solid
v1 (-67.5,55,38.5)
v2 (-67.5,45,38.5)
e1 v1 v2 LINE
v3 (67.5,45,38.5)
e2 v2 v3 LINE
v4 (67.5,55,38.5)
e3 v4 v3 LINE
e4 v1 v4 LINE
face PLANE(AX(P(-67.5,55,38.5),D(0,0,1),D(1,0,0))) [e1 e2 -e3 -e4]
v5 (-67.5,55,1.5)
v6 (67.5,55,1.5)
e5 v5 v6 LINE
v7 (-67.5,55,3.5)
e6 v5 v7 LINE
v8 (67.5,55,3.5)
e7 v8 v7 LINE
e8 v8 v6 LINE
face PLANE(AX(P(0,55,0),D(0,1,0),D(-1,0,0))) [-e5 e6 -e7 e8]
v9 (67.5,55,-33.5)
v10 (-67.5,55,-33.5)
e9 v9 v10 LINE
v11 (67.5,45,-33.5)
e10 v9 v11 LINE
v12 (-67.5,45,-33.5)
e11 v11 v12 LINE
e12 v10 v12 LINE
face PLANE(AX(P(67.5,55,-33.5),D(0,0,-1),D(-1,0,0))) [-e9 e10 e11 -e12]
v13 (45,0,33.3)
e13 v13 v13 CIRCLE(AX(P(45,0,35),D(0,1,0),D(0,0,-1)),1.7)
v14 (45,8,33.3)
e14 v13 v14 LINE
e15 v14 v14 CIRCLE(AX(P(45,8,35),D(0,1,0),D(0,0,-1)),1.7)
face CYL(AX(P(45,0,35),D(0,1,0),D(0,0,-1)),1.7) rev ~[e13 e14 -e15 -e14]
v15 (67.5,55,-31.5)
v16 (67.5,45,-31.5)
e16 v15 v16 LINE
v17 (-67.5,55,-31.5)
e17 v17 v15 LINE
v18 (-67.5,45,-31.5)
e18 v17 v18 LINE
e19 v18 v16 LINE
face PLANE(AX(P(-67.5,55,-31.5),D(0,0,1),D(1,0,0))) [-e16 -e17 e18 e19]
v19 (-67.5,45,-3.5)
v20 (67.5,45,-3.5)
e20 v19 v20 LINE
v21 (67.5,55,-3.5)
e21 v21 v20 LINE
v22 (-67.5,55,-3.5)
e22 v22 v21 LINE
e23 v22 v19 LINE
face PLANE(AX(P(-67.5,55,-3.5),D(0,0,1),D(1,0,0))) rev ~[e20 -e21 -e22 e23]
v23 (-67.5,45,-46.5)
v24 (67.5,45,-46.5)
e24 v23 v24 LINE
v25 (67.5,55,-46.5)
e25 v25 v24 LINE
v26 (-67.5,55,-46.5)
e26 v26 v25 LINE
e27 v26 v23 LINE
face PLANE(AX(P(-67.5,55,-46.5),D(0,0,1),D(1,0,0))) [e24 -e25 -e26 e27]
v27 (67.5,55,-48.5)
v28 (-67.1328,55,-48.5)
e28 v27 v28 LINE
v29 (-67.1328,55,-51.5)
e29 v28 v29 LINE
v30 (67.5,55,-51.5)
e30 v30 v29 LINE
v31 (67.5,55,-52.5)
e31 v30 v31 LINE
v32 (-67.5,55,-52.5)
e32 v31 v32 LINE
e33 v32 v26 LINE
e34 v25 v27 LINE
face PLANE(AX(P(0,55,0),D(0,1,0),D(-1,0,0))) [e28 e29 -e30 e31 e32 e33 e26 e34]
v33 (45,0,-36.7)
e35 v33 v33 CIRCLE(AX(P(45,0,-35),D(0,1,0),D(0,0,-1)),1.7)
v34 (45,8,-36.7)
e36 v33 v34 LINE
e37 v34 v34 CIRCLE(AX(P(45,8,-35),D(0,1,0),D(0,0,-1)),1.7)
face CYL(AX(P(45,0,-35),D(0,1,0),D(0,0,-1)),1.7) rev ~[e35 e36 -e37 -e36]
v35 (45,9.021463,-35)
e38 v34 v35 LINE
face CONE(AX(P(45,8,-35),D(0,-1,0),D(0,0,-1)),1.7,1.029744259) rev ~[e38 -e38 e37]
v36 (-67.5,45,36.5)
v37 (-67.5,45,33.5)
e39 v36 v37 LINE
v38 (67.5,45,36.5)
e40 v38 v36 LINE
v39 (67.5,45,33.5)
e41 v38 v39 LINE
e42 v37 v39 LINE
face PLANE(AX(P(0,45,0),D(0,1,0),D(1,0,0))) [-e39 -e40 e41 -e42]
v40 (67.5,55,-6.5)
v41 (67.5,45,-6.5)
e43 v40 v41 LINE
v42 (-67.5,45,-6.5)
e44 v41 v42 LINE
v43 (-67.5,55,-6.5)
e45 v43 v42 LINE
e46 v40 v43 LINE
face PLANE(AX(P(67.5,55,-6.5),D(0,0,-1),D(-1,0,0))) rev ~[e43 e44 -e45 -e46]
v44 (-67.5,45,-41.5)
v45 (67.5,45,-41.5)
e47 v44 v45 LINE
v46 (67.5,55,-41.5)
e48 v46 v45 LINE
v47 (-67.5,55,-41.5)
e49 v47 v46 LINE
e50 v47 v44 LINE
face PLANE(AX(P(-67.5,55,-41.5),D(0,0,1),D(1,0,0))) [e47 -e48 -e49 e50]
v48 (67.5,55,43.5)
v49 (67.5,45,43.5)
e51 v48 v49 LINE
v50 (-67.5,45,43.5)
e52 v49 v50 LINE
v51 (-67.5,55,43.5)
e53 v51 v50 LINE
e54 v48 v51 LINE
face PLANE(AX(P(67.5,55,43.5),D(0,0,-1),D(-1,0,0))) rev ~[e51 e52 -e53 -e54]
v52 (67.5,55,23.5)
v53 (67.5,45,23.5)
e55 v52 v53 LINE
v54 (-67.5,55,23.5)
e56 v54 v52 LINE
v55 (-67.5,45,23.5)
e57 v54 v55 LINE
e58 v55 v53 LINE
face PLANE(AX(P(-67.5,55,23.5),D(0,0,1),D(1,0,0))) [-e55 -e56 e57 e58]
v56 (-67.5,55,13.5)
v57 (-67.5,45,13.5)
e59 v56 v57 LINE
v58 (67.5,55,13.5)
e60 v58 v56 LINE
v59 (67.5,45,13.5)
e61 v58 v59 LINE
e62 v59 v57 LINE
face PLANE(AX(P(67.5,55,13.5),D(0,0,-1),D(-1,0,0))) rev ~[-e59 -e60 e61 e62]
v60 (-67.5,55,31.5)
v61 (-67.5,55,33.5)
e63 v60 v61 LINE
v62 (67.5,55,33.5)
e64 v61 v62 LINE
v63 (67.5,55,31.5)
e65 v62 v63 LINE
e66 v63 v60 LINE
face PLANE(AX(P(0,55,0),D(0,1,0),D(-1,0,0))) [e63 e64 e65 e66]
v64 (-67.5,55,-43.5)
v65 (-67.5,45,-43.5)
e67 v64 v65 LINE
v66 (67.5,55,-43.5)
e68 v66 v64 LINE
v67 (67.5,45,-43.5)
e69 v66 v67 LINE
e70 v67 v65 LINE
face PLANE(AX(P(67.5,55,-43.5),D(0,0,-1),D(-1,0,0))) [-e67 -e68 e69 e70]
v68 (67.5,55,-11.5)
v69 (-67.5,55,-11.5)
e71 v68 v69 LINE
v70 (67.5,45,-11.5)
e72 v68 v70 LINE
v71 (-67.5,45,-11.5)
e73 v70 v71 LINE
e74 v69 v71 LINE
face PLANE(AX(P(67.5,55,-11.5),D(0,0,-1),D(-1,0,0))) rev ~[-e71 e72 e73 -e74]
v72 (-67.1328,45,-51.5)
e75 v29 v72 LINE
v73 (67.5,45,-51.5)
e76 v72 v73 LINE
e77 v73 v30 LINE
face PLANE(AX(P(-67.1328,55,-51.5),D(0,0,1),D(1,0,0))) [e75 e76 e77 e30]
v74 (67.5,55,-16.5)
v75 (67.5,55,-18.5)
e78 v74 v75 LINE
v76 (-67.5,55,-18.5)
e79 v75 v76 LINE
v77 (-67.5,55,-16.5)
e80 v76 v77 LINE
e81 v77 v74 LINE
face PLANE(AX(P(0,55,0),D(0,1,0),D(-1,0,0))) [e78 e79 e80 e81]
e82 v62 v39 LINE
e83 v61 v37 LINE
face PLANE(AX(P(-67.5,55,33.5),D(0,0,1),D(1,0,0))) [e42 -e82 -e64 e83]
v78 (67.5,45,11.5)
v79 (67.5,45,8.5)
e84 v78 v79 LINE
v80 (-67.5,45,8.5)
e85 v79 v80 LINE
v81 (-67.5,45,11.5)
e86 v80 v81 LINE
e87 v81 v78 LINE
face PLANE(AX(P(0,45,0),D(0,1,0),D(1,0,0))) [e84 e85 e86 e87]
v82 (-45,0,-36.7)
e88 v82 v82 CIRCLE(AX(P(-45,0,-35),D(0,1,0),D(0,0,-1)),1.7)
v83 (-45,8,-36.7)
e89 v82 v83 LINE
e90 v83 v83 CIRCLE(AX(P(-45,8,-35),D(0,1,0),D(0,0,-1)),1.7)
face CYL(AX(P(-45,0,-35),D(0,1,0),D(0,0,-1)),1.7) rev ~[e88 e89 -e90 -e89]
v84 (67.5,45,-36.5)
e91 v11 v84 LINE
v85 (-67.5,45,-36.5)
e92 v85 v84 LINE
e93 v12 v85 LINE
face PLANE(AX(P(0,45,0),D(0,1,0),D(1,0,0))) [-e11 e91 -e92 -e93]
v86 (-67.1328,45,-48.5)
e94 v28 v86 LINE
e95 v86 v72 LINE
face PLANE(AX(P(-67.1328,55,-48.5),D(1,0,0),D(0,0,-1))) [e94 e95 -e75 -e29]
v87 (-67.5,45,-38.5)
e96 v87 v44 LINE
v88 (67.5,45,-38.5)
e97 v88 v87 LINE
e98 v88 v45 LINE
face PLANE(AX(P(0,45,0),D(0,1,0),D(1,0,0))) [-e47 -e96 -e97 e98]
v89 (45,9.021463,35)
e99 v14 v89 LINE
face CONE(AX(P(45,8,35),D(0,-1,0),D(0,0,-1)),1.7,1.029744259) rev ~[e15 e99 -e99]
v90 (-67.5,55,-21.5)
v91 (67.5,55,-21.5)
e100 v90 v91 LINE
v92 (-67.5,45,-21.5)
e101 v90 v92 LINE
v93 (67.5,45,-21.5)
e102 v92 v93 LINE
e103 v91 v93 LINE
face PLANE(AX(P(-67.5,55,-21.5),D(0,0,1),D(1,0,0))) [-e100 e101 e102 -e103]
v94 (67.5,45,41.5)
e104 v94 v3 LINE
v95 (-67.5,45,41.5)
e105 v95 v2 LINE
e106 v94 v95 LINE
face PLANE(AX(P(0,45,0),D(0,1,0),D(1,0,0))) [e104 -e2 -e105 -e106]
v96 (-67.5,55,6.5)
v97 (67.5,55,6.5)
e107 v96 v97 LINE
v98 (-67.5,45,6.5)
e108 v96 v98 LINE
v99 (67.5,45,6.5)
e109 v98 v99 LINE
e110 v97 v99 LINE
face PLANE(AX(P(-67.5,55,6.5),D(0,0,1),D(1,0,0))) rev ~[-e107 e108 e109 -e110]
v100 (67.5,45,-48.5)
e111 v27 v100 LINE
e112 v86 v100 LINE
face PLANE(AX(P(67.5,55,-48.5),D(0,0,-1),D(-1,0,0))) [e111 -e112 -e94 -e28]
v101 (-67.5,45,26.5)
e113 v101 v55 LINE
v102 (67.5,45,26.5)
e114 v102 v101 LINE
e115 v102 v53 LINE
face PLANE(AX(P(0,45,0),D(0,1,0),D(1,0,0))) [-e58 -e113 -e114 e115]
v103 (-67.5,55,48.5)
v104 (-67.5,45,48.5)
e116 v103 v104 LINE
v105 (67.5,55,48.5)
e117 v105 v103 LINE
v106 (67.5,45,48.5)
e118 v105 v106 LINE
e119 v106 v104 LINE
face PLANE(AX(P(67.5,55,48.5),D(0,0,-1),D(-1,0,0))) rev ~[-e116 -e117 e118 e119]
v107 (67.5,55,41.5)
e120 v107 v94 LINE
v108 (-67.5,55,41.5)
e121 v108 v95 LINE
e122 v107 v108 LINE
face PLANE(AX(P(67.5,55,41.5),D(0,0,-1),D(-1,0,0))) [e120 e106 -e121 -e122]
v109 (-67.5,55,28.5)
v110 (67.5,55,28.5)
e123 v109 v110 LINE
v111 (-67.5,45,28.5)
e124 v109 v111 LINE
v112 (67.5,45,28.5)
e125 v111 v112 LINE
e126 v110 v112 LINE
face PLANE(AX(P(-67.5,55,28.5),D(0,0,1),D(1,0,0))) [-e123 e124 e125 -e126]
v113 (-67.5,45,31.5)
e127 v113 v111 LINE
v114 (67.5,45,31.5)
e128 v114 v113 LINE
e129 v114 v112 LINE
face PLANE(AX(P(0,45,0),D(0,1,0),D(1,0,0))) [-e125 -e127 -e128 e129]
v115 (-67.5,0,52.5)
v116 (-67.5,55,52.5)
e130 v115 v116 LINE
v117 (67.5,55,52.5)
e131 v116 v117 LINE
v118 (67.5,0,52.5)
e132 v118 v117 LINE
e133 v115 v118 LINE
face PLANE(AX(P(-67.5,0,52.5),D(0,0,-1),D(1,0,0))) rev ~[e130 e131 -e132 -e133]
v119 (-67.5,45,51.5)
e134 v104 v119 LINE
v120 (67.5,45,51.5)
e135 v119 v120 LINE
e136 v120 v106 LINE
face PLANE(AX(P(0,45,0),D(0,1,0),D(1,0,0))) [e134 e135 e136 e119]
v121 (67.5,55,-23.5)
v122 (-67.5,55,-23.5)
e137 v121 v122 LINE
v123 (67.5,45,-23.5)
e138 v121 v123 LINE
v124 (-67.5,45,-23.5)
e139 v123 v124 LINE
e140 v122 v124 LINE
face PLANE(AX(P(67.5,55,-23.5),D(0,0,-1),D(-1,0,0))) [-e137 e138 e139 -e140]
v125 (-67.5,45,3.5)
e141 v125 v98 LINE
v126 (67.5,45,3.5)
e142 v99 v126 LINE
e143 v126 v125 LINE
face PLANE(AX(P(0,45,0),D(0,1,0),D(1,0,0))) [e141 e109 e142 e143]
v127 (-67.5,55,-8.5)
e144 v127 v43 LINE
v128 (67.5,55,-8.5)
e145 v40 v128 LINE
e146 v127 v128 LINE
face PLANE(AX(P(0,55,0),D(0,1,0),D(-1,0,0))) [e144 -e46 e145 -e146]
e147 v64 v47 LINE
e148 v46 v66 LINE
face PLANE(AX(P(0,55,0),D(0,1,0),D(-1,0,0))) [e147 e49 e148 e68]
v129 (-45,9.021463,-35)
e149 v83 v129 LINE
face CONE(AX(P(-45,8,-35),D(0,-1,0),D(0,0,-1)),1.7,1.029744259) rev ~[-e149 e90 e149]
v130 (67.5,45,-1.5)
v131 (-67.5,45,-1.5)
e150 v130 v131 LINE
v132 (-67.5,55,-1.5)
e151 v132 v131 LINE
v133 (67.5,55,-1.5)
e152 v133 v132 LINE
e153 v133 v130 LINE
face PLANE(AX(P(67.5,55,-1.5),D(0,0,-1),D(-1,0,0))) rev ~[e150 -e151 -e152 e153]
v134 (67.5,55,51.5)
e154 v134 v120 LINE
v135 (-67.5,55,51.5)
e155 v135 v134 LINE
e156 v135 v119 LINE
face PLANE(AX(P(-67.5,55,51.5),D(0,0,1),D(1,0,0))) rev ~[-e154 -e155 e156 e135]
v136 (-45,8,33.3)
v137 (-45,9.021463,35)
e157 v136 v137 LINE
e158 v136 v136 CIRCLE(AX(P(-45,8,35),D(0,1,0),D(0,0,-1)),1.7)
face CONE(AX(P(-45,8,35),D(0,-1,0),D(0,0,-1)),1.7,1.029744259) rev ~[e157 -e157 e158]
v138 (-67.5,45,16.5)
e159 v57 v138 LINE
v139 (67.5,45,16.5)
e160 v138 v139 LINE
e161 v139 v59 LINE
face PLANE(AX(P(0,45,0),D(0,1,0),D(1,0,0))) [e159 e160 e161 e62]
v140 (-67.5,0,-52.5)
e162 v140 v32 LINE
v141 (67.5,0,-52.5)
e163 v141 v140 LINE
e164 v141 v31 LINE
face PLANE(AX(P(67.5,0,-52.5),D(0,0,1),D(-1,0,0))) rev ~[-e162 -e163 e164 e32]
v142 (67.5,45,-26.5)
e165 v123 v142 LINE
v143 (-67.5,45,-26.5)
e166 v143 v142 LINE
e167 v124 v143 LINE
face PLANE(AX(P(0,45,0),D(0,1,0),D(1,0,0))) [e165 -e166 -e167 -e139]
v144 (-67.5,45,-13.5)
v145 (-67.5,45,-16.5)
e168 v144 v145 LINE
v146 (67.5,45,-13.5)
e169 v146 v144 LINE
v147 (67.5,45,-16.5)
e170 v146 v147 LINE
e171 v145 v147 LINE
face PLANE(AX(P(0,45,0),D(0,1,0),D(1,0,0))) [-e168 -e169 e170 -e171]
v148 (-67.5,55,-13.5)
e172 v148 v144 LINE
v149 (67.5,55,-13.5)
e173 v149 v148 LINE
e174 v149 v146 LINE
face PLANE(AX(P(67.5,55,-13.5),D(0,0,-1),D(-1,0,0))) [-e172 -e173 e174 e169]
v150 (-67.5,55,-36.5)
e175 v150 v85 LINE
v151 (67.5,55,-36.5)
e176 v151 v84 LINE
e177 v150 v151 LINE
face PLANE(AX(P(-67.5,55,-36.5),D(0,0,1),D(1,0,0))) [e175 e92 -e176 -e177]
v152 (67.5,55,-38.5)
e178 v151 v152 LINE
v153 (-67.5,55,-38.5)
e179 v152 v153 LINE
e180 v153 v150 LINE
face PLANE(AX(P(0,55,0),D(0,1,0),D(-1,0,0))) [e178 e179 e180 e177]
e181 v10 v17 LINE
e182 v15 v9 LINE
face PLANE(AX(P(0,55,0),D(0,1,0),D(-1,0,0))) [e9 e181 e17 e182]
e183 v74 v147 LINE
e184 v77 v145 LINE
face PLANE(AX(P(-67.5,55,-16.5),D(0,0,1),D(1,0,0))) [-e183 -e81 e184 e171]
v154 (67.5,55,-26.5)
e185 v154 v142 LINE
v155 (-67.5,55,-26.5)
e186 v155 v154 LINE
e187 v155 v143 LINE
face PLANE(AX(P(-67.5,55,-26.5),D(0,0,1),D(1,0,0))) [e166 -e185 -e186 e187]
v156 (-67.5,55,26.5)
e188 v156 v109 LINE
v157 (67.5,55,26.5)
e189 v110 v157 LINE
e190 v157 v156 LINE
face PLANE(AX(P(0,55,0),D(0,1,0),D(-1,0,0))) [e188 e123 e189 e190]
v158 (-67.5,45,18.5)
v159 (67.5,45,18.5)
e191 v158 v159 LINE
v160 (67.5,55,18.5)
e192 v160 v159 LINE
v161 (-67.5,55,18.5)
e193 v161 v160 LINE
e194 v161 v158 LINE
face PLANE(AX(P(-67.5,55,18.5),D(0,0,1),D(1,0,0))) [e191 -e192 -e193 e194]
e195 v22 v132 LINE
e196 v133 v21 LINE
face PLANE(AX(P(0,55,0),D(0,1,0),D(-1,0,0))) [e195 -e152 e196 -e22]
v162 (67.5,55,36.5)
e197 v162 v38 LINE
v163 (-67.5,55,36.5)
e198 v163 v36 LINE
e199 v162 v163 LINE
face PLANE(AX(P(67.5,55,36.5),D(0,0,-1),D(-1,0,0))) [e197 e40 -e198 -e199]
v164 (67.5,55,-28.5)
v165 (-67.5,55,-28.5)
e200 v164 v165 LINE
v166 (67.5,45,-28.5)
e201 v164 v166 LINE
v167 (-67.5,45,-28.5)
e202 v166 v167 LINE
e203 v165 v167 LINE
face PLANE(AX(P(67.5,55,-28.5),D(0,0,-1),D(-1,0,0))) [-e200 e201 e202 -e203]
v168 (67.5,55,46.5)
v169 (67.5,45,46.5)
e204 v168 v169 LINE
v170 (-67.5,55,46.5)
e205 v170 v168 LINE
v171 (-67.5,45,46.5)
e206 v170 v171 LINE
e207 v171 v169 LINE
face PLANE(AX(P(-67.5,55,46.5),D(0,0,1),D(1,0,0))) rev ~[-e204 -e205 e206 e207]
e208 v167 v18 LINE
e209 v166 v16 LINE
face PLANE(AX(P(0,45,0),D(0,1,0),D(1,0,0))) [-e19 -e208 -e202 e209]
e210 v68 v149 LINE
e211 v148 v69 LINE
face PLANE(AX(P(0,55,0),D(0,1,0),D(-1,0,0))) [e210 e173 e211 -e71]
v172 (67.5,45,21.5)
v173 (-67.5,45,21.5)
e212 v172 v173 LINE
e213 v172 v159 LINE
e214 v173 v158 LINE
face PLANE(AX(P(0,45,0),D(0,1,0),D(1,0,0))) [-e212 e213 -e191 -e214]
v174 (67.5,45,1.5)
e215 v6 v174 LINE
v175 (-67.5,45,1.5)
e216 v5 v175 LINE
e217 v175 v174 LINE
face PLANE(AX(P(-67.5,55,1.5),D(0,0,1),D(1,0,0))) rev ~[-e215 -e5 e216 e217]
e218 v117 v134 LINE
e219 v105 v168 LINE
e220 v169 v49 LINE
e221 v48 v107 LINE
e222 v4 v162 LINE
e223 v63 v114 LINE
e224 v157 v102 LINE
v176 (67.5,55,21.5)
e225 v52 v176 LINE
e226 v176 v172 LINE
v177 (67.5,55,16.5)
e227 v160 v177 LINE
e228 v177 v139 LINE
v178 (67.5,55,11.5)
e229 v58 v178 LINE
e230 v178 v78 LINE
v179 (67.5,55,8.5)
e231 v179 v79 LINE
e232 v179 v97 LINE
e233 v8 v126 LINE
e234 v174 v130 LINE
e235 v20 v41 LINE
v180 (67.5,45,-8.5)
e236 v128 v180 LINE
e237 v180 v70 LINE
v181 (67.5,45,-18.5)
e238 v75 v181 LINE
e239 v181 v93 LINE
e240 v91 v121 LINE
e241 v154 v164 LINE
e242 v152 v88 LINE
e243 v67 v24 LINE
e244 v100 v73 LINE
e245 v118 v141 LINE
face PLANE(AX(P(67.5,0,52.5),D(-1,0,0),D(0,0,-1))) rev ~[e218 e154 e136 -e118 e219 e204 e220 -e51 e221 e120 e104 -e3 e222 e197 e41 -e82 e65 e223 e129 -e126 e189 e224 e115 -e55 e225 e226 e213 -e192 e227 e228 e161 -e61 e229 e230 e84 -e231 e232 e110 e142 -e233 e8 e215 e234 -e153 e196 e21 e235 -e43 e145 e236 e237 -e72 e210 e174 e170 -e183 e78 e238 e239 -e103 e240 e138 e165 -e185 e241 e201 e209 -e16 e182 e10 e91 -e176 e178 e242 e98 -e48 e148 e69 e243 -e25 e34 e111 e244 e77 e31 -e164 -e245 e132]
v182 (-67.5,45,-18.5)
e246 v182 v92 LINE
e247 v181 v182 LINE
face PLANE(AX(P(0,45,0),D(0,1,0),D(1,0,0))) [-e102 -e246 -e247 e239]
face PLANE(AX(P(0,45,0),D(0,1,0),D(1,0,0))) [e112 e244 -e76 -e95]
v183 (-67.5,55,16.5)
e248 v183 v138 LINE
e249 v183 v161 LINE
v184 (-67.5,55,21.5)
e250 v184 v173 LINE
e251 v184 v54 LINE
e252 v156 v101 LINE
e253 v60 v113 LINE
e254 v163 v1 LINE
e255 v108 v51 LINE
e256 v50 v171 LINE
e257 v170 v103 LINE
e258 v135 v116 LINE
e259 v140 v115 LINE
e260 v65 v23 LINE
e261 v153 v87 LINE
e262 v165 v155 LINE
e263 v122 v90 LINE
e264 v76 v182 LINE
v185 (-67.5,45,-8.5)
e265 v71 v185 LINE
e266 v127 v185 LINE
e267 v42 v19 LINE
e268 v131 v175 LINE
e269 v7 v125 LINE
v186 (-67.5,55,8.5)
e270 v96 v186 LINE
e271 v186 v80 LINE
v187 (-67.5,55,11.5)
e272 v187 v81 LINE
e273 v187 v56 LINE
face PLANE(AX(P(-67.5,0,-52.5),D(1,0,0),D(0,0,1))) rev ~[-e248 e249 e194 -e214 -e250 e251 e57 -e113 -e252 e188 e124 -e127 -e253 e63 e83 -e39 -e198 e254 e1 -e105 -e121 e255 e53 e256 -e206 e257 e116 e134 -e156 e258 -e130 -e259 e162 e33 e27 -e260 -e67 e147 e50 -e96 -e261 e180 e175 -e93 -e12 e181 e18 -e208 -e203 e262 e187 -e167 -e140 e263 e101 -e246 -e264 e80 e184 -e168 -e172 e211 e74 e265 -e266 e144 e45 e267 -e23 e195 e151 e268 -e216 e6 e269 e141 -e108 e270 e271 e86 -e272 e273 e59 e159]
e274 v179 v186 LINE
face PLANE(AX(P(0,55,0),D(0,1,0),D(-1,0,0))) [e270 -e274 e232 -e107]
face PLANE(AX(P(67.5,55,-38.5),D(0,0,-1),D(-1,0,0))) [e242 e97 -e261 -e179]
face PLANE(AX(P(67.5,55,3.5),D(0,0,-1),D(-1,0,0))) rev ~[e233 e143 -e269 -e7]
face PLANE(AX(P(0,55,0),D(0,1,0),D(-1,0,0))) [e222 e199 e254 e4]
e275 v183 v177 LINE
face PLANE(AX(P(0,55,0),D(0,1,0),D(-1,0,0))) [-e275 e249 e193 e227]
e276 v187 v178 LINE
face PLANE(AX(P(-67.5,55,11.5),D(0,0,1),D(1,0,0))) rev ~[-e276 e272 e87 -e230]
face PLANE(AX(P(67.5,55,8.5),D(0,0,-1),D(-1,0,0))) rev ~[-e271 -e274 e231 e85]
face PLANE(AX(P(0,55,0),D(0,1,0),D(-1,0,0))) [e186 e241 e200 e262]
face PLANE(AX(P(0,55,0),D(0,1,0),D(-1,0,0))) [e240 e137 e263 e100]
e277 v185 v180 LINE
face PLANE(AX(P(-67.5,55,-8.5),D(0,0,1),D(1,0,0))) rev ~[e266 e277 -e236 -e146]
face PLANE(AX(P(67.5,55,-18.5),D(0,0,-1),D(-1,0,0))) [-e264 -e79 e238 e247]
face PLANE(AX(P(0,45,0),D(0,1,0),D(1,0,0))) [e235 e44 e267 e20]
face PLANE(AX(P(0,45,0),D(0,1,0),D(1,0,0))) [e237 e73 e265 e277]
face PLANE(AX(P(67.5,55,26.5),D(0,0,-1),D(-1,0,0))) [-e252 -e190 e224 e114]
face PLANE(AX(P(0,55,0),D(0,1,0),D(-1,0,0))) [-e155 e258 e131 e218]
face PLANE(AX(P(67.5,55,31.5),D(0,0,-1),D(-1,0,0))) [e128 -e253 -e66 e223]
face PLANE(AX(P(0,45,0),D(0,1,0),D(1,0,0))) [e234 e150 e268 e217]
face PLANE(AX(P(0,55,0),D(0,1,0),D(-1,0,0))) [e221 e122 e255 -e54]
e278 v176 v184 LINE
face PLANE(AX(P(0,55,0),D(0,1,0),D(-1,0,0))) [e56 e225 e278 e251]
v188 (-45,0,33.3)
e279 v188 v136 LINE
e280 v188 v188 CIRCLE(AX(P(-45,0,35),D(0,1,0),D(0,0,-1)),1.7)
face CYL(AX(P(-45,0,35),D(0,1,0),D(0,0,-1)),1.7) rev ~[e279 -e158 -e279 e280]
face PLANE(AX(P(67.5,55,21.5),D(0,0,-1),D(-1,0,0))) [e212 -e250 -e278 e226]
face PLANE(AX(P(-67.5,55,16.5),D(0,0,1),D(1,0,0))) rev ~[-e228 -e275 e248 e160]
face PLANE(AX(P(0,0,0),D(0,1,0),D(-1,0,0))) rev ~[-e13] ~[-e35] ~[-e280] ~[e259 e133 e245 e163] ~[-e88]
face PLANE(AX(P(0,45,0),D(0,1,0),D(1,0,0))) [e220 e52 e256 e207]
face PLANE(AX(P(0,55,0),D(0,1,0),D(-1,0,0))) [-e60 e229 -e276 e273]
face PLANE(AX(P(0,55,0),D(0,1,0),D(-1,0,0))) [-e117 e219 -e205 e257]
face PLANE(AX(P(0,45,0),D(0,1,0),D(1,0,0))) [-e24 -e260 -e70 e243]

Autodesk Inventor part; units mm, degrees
ref_plane "YZ Plane" through (0, 0, 0) normal (1, 0, 0) x (0, 1, 0)
ref_plane "XZ Plane" through (0, 0, 0) normal (0, 1, 0) x (-1, 0, 0)
ref_plane "XY Plane" through (0, 0, 0) normal (0, 0, 1) x (1, 0, 0)
sketch "Sketch1" plane through (0, 0, 0) normal (0, 1, 0) x (-1, 0, 0)
  line L0 (67.5, 52.5) -> (-67.5, 52.5)
  line L1 (-67.5, 52.5) -> (-67.5, -52.5)
  line L2 (-67.5, -52.5) -> (67.5, -52.5)
  line L3 (67.5, -52.5) -> (67.5, 52.5)
  line L4 (67.5, 52.5) -> (-67.5, -52.5) construction
  line L5 (-67.5, 52.5) -> (67.5, -52.5) construction
  point P0 (0, 0)
  dimension "d0" = 135
  dimension "d1" = 105
extrude "Extrusion1" add sketch "Sketch1" along normal blind 55
sketch "Sketch2" plane through (0, 55, 0) normal (0, 1, 0) x (1, 0, 0)
  line L0 (67.5, -52.5) -> (67.5, 52.5) projected
  line L1 (-67.5, -1.5) -> (67.5, -1.5)
  line L2 (67.5, -1.5) -> (67.5, 1.5)
  line L3 (67.5, 1.5) -> (-67.5, 1.5)
  line L4 (-67.5, 1.5) -> (-67.5, -1.5)
  line L5 (-67.5, -1.5) -> (67.5, 1.5) construction
  line L6 (67.5, -1.5) -> (-67.5, 1.5) construction
  line L7 (-67.5, 3.5) -> (67.5, 3.5)
  line L8 (67.5, 3.5) -> (67.5, 6.5)
  line L9 (67.5, 6.5) -> (-67.5, 6.5)
  line L10 (-67.5, 6.5) -> (-67.5, 3.5)
  line L11 (-67.5, 3.5) -> (67.5, 6.5) construction
  line L12 (67.5, 3.5) -> (-67.5, 6.5) construction
  line L13 (67.5, -3.5) -> (-67.5, -3.5)
  line L14 (-67.5, -3.5) -> (-67.5, -6.5)
  line L15 (-67.5, -6.5) -> (67.5, -6.5)
  line L16 (67.5, -6.5) -> (67.5, -3.5)
  line L17 (67.5, -8.5) -> (-67.5, -8.5)
  line L18 (-67.5, -8.5) -> (-67.5, -11.5)
  line L19 (-67.5, -11.5) -> (67.5, -11.5)
  line L20 (67.5, -11.5) -> (67.5, -8.5)
  line L21 (67.5, -13.5) -> (-67.5, -13.5)
  line L22 (-67.5, -13.5) -> (-67.5, -16.5)
  line L23 (-67.5, -16.5) -> (67.5, -16.5)
  line L24 (67.5, -16.5) -> (67.5, -13.5)
  line L25 (67.5, 11.5) -> (-67.5, 11.5)
  line L26 (-67.5, 11.5) -> (-67.5, 8.5)
  line L27 (-67.5, 8.5) -> (67.5, 8.5)
  line L28 (67.5, 8.5) -> (67.5, 11.5)
  line L29 (67.5, 13.5) -> (-67.5, 13.5)
  line L30 (-67.5, 13.5) -> (-67.5, 16.5)
  line L31 (-67.5, 16.5) -> (67.5, 16.5)
  line L32 (67.5, 16.5) -> (67.5, 13.5)
  line L33 (67.5, 23.5) -> (-67.5, 23.5)
  line L34 (-67.5, 23.5) -> (-67.5, 26.5)
  line L35 (-67.5, 26.5) -> (67.5, 26.5)
  line L36 (67.5, 26.5) -> (67.5, 23.5)
  line L37 (67.5, 18.5) -> (-67.5, 18.5)
  line L38 (-67.5, 18.5) -> (-67.5, 21.5)
  line L39 (-67.5, 21.5) -> (67.5, 21.5)
  line L40 (67.5, 21.5) -> (67.5, 18.5)
  line L41 (67.5, 28.5) -> (-67.5, 28.5)
  line L42 (-67.5, 28.5) -> (-67.5, 31.5)
  line L43 (-67.5, 31.5) -> (67.5, 31.5)
  line L44 (67.5, 31.5) -> (67.5, 28.5)
  line L45 (67.5, -41.5) -> (-67.5, -41.5)
  line L46 (-67.5, -41.5) -> (-67.5, -38.5)
  line L47 (-67.5, -38.5) -> (67.5, -38.5)
  line L48 (67.5, -38.5) -> (67.5, -41.5)
  line L49 (67.5, -36.5) -> (-67.5, -36.5)
  line L50 (-67.5, -36.5) -> (-67.5, -33.5)
  line L51 (-67.5, -33.5) -> (67.5, -33.5)
  line L52 (67.5, -33.5) -> (67.5, -36.5)
  line L53 (67.5, -31.5) -> (-67.5, -31.5)
  line L54 (-67.5, -31.5) -> (-67.5, -28.5)
  line L55 (-67.5, -28.5) -> (67.5, -28.5)
  line L56 (67.5, -28.5) -> (67.5, -31.5)
  line L57 (67.5, -26.5) -> (-67.5, -26.5)
  line L58 (-67.5, -26.5) -> (-67.5, -23.5)
  line L59 (-67.5, -23.5) -> (67.5, -23.5)
  line L60 (67.5, -23.5) -> (67.5, -26.5)
  line L61 (67.5, -21.5) -> (-67.5, -21.5)
  line L62 (-67.5, -21.5) -> (-67.5, -18.5)
  line L63 (-67.5, -18.5) -> (67.5, -18.5)
  line L64 (67.5, -18.5) -> (67.5, -21.5)
  line L65 (67.5, 33.5) -> (-67.5, 33.5)
  line L66 (-67.5, 33.5) -> (-67.5, 36.5)
  line L67 (-67.5, 36.5) -> (67.5, 36.5)
  line L68 (67.5, 36.5) -> (67.5, 33.5)
  line L69 (67.5, 38.5) -> (-67.5, 38.5)
  line L70 (-67.5, 38.5) -> (-67.5, 41.5)
  line L71 (-67.5, 41.5) -> (67.5, 41.5)
  line L72 (67.5, 41.5) -> (67.5, 38.5)
  line L73 (67.5, 43.5) -> (-67.5, 43.5)
  line L74 (-67.5, 43.5) -> (-67.5, 46.5)
  line L75 (-67.5, 46.5) -> (67.5, 46.5)
  line L76 (67.5, 46.5) -> (67.5, 43.5)
  line L77 (67.5, -43.5) -> (-67.5, -43.5)
  line L78 (-67.5, -43.5) -> (-67.5, -46.5)
  line L79 (-67.5, -46.5) -> (67.5, -46.5)
  line L80 (67.5, -46.5) -> (67.5, -43.5)
  line L81 (67.5, -48.5) -> (-67.5, -48.5)
  line L82 (-67.5, -48.5) -> (-67.5, -51.5)
  line L83 (-67.5, -51.5) -> (67.5, -51.5)
  line L84 (67.5, -51.5) -> (67.5, -48.5)
  line L85 (67.8672, 48.5) -> (-67.1328, 48.5)
  line L86 (-67.1328, 48.5) -> (-67.1328, 51.5)
  line L87 (-67.1328, 51.5) -> (67.8672, 51.5)
  line L88 (67.8672, 51.5) -> (67.8672, 48.5)
  point P0 (0, 0)
  point P1 (0, 5)
  dimension "d4" = 3
  dimension "d5" = 135
  dimension "d6" = 2
  dimension "d7" = 0
  dimension "d8" = 3
  dimension "d9" = 135
  dimension "d10" = 3
  dimension "d11" = 135
  dimension "d12" = 3
  dimension "d13" = 135
  dimension "d14" = 3
  dimension "d15" = 135
  dimension "d16" = 3
  dimension "d17" = 135
  dimension "d18" = 3
  dimension "d19" = 2
  dimension "d20" = 2
  dimension "d21" = 2
  dimension "d22" = 2
  dimension "d23" = 2
  dimension "d24" = 135
  dimension "d25" = 3
  dimension "d26" = 135
  dimension "d27" = 3
  dimension "d28" = 135
  dimension "d29" = 3
  dimension "d30" = 135
  dimension "d31" = 3
  dimension "d32" = 135
  dimension "d33" = 3
  dimension "d34" = 135
  dimension "d35" = 3
  dimension "d36" = 135
  dimension "d37" = 3
  dimension "d38" = 135
  dimension "d39" = 3
  dimension "d40" = 135
  dimension "d41" = 3
  dimension "d42" = 2
  dimension "d43" = 2
  dimension "d44" = 2
  dimension "d45" = 2
  dimension "d46" = 2
  dimension "d47" = 2
  dimension "d48" = 2
  dimension "d49" = 2
  dimension "d50" = 2
  dimension "d51" = 135
  dimension "d52" = 3
  dimension "d53" = 135
  dimension "d54" = 3
  dimension "d55" = 135
  dimension "d56" = 3
  dimension "d57" = 135
  dimension "d58" = 3
  dimension "d59" = 2
  dimension "d60" = 2
  dimension "d61" = 2
  dimension "d62" = 2
  dimension "d63" = 135
  dimension "d64" = 3
  dimension "d65" = 2
extrude "Extrusion2" cut sketch "Sketch2" against normal blind 10
sketch "Sketch3" plane through (0, 0, 0) normal (0, -1, 0) x (1, 0, 0)
  line L0 (45, 35) -> (-45, 35) construction
  line L1 (-45, 35) -> (-45, -35) construction
  line L2 (-45, -35) -> (45, -35) construction
  line L3 (45, -35) -> (45, 35) construction
  line L4 (45, 35) -> (-45, -35) construction
  line L5 (-45, 35) -> (45, -35) construction
  point P0 (0, 0)
  dimension "d68" = 90
  dimension "d69" = 70
hole "Hole1" at (45, 0, -35) at (-45, 0, -35) at (-45, 0, 35) at (45, 0, 35) direction (0, 1, 0) diameter 3.4 depth 8 tip angle 118
properties part number "WR-LEN-base"
